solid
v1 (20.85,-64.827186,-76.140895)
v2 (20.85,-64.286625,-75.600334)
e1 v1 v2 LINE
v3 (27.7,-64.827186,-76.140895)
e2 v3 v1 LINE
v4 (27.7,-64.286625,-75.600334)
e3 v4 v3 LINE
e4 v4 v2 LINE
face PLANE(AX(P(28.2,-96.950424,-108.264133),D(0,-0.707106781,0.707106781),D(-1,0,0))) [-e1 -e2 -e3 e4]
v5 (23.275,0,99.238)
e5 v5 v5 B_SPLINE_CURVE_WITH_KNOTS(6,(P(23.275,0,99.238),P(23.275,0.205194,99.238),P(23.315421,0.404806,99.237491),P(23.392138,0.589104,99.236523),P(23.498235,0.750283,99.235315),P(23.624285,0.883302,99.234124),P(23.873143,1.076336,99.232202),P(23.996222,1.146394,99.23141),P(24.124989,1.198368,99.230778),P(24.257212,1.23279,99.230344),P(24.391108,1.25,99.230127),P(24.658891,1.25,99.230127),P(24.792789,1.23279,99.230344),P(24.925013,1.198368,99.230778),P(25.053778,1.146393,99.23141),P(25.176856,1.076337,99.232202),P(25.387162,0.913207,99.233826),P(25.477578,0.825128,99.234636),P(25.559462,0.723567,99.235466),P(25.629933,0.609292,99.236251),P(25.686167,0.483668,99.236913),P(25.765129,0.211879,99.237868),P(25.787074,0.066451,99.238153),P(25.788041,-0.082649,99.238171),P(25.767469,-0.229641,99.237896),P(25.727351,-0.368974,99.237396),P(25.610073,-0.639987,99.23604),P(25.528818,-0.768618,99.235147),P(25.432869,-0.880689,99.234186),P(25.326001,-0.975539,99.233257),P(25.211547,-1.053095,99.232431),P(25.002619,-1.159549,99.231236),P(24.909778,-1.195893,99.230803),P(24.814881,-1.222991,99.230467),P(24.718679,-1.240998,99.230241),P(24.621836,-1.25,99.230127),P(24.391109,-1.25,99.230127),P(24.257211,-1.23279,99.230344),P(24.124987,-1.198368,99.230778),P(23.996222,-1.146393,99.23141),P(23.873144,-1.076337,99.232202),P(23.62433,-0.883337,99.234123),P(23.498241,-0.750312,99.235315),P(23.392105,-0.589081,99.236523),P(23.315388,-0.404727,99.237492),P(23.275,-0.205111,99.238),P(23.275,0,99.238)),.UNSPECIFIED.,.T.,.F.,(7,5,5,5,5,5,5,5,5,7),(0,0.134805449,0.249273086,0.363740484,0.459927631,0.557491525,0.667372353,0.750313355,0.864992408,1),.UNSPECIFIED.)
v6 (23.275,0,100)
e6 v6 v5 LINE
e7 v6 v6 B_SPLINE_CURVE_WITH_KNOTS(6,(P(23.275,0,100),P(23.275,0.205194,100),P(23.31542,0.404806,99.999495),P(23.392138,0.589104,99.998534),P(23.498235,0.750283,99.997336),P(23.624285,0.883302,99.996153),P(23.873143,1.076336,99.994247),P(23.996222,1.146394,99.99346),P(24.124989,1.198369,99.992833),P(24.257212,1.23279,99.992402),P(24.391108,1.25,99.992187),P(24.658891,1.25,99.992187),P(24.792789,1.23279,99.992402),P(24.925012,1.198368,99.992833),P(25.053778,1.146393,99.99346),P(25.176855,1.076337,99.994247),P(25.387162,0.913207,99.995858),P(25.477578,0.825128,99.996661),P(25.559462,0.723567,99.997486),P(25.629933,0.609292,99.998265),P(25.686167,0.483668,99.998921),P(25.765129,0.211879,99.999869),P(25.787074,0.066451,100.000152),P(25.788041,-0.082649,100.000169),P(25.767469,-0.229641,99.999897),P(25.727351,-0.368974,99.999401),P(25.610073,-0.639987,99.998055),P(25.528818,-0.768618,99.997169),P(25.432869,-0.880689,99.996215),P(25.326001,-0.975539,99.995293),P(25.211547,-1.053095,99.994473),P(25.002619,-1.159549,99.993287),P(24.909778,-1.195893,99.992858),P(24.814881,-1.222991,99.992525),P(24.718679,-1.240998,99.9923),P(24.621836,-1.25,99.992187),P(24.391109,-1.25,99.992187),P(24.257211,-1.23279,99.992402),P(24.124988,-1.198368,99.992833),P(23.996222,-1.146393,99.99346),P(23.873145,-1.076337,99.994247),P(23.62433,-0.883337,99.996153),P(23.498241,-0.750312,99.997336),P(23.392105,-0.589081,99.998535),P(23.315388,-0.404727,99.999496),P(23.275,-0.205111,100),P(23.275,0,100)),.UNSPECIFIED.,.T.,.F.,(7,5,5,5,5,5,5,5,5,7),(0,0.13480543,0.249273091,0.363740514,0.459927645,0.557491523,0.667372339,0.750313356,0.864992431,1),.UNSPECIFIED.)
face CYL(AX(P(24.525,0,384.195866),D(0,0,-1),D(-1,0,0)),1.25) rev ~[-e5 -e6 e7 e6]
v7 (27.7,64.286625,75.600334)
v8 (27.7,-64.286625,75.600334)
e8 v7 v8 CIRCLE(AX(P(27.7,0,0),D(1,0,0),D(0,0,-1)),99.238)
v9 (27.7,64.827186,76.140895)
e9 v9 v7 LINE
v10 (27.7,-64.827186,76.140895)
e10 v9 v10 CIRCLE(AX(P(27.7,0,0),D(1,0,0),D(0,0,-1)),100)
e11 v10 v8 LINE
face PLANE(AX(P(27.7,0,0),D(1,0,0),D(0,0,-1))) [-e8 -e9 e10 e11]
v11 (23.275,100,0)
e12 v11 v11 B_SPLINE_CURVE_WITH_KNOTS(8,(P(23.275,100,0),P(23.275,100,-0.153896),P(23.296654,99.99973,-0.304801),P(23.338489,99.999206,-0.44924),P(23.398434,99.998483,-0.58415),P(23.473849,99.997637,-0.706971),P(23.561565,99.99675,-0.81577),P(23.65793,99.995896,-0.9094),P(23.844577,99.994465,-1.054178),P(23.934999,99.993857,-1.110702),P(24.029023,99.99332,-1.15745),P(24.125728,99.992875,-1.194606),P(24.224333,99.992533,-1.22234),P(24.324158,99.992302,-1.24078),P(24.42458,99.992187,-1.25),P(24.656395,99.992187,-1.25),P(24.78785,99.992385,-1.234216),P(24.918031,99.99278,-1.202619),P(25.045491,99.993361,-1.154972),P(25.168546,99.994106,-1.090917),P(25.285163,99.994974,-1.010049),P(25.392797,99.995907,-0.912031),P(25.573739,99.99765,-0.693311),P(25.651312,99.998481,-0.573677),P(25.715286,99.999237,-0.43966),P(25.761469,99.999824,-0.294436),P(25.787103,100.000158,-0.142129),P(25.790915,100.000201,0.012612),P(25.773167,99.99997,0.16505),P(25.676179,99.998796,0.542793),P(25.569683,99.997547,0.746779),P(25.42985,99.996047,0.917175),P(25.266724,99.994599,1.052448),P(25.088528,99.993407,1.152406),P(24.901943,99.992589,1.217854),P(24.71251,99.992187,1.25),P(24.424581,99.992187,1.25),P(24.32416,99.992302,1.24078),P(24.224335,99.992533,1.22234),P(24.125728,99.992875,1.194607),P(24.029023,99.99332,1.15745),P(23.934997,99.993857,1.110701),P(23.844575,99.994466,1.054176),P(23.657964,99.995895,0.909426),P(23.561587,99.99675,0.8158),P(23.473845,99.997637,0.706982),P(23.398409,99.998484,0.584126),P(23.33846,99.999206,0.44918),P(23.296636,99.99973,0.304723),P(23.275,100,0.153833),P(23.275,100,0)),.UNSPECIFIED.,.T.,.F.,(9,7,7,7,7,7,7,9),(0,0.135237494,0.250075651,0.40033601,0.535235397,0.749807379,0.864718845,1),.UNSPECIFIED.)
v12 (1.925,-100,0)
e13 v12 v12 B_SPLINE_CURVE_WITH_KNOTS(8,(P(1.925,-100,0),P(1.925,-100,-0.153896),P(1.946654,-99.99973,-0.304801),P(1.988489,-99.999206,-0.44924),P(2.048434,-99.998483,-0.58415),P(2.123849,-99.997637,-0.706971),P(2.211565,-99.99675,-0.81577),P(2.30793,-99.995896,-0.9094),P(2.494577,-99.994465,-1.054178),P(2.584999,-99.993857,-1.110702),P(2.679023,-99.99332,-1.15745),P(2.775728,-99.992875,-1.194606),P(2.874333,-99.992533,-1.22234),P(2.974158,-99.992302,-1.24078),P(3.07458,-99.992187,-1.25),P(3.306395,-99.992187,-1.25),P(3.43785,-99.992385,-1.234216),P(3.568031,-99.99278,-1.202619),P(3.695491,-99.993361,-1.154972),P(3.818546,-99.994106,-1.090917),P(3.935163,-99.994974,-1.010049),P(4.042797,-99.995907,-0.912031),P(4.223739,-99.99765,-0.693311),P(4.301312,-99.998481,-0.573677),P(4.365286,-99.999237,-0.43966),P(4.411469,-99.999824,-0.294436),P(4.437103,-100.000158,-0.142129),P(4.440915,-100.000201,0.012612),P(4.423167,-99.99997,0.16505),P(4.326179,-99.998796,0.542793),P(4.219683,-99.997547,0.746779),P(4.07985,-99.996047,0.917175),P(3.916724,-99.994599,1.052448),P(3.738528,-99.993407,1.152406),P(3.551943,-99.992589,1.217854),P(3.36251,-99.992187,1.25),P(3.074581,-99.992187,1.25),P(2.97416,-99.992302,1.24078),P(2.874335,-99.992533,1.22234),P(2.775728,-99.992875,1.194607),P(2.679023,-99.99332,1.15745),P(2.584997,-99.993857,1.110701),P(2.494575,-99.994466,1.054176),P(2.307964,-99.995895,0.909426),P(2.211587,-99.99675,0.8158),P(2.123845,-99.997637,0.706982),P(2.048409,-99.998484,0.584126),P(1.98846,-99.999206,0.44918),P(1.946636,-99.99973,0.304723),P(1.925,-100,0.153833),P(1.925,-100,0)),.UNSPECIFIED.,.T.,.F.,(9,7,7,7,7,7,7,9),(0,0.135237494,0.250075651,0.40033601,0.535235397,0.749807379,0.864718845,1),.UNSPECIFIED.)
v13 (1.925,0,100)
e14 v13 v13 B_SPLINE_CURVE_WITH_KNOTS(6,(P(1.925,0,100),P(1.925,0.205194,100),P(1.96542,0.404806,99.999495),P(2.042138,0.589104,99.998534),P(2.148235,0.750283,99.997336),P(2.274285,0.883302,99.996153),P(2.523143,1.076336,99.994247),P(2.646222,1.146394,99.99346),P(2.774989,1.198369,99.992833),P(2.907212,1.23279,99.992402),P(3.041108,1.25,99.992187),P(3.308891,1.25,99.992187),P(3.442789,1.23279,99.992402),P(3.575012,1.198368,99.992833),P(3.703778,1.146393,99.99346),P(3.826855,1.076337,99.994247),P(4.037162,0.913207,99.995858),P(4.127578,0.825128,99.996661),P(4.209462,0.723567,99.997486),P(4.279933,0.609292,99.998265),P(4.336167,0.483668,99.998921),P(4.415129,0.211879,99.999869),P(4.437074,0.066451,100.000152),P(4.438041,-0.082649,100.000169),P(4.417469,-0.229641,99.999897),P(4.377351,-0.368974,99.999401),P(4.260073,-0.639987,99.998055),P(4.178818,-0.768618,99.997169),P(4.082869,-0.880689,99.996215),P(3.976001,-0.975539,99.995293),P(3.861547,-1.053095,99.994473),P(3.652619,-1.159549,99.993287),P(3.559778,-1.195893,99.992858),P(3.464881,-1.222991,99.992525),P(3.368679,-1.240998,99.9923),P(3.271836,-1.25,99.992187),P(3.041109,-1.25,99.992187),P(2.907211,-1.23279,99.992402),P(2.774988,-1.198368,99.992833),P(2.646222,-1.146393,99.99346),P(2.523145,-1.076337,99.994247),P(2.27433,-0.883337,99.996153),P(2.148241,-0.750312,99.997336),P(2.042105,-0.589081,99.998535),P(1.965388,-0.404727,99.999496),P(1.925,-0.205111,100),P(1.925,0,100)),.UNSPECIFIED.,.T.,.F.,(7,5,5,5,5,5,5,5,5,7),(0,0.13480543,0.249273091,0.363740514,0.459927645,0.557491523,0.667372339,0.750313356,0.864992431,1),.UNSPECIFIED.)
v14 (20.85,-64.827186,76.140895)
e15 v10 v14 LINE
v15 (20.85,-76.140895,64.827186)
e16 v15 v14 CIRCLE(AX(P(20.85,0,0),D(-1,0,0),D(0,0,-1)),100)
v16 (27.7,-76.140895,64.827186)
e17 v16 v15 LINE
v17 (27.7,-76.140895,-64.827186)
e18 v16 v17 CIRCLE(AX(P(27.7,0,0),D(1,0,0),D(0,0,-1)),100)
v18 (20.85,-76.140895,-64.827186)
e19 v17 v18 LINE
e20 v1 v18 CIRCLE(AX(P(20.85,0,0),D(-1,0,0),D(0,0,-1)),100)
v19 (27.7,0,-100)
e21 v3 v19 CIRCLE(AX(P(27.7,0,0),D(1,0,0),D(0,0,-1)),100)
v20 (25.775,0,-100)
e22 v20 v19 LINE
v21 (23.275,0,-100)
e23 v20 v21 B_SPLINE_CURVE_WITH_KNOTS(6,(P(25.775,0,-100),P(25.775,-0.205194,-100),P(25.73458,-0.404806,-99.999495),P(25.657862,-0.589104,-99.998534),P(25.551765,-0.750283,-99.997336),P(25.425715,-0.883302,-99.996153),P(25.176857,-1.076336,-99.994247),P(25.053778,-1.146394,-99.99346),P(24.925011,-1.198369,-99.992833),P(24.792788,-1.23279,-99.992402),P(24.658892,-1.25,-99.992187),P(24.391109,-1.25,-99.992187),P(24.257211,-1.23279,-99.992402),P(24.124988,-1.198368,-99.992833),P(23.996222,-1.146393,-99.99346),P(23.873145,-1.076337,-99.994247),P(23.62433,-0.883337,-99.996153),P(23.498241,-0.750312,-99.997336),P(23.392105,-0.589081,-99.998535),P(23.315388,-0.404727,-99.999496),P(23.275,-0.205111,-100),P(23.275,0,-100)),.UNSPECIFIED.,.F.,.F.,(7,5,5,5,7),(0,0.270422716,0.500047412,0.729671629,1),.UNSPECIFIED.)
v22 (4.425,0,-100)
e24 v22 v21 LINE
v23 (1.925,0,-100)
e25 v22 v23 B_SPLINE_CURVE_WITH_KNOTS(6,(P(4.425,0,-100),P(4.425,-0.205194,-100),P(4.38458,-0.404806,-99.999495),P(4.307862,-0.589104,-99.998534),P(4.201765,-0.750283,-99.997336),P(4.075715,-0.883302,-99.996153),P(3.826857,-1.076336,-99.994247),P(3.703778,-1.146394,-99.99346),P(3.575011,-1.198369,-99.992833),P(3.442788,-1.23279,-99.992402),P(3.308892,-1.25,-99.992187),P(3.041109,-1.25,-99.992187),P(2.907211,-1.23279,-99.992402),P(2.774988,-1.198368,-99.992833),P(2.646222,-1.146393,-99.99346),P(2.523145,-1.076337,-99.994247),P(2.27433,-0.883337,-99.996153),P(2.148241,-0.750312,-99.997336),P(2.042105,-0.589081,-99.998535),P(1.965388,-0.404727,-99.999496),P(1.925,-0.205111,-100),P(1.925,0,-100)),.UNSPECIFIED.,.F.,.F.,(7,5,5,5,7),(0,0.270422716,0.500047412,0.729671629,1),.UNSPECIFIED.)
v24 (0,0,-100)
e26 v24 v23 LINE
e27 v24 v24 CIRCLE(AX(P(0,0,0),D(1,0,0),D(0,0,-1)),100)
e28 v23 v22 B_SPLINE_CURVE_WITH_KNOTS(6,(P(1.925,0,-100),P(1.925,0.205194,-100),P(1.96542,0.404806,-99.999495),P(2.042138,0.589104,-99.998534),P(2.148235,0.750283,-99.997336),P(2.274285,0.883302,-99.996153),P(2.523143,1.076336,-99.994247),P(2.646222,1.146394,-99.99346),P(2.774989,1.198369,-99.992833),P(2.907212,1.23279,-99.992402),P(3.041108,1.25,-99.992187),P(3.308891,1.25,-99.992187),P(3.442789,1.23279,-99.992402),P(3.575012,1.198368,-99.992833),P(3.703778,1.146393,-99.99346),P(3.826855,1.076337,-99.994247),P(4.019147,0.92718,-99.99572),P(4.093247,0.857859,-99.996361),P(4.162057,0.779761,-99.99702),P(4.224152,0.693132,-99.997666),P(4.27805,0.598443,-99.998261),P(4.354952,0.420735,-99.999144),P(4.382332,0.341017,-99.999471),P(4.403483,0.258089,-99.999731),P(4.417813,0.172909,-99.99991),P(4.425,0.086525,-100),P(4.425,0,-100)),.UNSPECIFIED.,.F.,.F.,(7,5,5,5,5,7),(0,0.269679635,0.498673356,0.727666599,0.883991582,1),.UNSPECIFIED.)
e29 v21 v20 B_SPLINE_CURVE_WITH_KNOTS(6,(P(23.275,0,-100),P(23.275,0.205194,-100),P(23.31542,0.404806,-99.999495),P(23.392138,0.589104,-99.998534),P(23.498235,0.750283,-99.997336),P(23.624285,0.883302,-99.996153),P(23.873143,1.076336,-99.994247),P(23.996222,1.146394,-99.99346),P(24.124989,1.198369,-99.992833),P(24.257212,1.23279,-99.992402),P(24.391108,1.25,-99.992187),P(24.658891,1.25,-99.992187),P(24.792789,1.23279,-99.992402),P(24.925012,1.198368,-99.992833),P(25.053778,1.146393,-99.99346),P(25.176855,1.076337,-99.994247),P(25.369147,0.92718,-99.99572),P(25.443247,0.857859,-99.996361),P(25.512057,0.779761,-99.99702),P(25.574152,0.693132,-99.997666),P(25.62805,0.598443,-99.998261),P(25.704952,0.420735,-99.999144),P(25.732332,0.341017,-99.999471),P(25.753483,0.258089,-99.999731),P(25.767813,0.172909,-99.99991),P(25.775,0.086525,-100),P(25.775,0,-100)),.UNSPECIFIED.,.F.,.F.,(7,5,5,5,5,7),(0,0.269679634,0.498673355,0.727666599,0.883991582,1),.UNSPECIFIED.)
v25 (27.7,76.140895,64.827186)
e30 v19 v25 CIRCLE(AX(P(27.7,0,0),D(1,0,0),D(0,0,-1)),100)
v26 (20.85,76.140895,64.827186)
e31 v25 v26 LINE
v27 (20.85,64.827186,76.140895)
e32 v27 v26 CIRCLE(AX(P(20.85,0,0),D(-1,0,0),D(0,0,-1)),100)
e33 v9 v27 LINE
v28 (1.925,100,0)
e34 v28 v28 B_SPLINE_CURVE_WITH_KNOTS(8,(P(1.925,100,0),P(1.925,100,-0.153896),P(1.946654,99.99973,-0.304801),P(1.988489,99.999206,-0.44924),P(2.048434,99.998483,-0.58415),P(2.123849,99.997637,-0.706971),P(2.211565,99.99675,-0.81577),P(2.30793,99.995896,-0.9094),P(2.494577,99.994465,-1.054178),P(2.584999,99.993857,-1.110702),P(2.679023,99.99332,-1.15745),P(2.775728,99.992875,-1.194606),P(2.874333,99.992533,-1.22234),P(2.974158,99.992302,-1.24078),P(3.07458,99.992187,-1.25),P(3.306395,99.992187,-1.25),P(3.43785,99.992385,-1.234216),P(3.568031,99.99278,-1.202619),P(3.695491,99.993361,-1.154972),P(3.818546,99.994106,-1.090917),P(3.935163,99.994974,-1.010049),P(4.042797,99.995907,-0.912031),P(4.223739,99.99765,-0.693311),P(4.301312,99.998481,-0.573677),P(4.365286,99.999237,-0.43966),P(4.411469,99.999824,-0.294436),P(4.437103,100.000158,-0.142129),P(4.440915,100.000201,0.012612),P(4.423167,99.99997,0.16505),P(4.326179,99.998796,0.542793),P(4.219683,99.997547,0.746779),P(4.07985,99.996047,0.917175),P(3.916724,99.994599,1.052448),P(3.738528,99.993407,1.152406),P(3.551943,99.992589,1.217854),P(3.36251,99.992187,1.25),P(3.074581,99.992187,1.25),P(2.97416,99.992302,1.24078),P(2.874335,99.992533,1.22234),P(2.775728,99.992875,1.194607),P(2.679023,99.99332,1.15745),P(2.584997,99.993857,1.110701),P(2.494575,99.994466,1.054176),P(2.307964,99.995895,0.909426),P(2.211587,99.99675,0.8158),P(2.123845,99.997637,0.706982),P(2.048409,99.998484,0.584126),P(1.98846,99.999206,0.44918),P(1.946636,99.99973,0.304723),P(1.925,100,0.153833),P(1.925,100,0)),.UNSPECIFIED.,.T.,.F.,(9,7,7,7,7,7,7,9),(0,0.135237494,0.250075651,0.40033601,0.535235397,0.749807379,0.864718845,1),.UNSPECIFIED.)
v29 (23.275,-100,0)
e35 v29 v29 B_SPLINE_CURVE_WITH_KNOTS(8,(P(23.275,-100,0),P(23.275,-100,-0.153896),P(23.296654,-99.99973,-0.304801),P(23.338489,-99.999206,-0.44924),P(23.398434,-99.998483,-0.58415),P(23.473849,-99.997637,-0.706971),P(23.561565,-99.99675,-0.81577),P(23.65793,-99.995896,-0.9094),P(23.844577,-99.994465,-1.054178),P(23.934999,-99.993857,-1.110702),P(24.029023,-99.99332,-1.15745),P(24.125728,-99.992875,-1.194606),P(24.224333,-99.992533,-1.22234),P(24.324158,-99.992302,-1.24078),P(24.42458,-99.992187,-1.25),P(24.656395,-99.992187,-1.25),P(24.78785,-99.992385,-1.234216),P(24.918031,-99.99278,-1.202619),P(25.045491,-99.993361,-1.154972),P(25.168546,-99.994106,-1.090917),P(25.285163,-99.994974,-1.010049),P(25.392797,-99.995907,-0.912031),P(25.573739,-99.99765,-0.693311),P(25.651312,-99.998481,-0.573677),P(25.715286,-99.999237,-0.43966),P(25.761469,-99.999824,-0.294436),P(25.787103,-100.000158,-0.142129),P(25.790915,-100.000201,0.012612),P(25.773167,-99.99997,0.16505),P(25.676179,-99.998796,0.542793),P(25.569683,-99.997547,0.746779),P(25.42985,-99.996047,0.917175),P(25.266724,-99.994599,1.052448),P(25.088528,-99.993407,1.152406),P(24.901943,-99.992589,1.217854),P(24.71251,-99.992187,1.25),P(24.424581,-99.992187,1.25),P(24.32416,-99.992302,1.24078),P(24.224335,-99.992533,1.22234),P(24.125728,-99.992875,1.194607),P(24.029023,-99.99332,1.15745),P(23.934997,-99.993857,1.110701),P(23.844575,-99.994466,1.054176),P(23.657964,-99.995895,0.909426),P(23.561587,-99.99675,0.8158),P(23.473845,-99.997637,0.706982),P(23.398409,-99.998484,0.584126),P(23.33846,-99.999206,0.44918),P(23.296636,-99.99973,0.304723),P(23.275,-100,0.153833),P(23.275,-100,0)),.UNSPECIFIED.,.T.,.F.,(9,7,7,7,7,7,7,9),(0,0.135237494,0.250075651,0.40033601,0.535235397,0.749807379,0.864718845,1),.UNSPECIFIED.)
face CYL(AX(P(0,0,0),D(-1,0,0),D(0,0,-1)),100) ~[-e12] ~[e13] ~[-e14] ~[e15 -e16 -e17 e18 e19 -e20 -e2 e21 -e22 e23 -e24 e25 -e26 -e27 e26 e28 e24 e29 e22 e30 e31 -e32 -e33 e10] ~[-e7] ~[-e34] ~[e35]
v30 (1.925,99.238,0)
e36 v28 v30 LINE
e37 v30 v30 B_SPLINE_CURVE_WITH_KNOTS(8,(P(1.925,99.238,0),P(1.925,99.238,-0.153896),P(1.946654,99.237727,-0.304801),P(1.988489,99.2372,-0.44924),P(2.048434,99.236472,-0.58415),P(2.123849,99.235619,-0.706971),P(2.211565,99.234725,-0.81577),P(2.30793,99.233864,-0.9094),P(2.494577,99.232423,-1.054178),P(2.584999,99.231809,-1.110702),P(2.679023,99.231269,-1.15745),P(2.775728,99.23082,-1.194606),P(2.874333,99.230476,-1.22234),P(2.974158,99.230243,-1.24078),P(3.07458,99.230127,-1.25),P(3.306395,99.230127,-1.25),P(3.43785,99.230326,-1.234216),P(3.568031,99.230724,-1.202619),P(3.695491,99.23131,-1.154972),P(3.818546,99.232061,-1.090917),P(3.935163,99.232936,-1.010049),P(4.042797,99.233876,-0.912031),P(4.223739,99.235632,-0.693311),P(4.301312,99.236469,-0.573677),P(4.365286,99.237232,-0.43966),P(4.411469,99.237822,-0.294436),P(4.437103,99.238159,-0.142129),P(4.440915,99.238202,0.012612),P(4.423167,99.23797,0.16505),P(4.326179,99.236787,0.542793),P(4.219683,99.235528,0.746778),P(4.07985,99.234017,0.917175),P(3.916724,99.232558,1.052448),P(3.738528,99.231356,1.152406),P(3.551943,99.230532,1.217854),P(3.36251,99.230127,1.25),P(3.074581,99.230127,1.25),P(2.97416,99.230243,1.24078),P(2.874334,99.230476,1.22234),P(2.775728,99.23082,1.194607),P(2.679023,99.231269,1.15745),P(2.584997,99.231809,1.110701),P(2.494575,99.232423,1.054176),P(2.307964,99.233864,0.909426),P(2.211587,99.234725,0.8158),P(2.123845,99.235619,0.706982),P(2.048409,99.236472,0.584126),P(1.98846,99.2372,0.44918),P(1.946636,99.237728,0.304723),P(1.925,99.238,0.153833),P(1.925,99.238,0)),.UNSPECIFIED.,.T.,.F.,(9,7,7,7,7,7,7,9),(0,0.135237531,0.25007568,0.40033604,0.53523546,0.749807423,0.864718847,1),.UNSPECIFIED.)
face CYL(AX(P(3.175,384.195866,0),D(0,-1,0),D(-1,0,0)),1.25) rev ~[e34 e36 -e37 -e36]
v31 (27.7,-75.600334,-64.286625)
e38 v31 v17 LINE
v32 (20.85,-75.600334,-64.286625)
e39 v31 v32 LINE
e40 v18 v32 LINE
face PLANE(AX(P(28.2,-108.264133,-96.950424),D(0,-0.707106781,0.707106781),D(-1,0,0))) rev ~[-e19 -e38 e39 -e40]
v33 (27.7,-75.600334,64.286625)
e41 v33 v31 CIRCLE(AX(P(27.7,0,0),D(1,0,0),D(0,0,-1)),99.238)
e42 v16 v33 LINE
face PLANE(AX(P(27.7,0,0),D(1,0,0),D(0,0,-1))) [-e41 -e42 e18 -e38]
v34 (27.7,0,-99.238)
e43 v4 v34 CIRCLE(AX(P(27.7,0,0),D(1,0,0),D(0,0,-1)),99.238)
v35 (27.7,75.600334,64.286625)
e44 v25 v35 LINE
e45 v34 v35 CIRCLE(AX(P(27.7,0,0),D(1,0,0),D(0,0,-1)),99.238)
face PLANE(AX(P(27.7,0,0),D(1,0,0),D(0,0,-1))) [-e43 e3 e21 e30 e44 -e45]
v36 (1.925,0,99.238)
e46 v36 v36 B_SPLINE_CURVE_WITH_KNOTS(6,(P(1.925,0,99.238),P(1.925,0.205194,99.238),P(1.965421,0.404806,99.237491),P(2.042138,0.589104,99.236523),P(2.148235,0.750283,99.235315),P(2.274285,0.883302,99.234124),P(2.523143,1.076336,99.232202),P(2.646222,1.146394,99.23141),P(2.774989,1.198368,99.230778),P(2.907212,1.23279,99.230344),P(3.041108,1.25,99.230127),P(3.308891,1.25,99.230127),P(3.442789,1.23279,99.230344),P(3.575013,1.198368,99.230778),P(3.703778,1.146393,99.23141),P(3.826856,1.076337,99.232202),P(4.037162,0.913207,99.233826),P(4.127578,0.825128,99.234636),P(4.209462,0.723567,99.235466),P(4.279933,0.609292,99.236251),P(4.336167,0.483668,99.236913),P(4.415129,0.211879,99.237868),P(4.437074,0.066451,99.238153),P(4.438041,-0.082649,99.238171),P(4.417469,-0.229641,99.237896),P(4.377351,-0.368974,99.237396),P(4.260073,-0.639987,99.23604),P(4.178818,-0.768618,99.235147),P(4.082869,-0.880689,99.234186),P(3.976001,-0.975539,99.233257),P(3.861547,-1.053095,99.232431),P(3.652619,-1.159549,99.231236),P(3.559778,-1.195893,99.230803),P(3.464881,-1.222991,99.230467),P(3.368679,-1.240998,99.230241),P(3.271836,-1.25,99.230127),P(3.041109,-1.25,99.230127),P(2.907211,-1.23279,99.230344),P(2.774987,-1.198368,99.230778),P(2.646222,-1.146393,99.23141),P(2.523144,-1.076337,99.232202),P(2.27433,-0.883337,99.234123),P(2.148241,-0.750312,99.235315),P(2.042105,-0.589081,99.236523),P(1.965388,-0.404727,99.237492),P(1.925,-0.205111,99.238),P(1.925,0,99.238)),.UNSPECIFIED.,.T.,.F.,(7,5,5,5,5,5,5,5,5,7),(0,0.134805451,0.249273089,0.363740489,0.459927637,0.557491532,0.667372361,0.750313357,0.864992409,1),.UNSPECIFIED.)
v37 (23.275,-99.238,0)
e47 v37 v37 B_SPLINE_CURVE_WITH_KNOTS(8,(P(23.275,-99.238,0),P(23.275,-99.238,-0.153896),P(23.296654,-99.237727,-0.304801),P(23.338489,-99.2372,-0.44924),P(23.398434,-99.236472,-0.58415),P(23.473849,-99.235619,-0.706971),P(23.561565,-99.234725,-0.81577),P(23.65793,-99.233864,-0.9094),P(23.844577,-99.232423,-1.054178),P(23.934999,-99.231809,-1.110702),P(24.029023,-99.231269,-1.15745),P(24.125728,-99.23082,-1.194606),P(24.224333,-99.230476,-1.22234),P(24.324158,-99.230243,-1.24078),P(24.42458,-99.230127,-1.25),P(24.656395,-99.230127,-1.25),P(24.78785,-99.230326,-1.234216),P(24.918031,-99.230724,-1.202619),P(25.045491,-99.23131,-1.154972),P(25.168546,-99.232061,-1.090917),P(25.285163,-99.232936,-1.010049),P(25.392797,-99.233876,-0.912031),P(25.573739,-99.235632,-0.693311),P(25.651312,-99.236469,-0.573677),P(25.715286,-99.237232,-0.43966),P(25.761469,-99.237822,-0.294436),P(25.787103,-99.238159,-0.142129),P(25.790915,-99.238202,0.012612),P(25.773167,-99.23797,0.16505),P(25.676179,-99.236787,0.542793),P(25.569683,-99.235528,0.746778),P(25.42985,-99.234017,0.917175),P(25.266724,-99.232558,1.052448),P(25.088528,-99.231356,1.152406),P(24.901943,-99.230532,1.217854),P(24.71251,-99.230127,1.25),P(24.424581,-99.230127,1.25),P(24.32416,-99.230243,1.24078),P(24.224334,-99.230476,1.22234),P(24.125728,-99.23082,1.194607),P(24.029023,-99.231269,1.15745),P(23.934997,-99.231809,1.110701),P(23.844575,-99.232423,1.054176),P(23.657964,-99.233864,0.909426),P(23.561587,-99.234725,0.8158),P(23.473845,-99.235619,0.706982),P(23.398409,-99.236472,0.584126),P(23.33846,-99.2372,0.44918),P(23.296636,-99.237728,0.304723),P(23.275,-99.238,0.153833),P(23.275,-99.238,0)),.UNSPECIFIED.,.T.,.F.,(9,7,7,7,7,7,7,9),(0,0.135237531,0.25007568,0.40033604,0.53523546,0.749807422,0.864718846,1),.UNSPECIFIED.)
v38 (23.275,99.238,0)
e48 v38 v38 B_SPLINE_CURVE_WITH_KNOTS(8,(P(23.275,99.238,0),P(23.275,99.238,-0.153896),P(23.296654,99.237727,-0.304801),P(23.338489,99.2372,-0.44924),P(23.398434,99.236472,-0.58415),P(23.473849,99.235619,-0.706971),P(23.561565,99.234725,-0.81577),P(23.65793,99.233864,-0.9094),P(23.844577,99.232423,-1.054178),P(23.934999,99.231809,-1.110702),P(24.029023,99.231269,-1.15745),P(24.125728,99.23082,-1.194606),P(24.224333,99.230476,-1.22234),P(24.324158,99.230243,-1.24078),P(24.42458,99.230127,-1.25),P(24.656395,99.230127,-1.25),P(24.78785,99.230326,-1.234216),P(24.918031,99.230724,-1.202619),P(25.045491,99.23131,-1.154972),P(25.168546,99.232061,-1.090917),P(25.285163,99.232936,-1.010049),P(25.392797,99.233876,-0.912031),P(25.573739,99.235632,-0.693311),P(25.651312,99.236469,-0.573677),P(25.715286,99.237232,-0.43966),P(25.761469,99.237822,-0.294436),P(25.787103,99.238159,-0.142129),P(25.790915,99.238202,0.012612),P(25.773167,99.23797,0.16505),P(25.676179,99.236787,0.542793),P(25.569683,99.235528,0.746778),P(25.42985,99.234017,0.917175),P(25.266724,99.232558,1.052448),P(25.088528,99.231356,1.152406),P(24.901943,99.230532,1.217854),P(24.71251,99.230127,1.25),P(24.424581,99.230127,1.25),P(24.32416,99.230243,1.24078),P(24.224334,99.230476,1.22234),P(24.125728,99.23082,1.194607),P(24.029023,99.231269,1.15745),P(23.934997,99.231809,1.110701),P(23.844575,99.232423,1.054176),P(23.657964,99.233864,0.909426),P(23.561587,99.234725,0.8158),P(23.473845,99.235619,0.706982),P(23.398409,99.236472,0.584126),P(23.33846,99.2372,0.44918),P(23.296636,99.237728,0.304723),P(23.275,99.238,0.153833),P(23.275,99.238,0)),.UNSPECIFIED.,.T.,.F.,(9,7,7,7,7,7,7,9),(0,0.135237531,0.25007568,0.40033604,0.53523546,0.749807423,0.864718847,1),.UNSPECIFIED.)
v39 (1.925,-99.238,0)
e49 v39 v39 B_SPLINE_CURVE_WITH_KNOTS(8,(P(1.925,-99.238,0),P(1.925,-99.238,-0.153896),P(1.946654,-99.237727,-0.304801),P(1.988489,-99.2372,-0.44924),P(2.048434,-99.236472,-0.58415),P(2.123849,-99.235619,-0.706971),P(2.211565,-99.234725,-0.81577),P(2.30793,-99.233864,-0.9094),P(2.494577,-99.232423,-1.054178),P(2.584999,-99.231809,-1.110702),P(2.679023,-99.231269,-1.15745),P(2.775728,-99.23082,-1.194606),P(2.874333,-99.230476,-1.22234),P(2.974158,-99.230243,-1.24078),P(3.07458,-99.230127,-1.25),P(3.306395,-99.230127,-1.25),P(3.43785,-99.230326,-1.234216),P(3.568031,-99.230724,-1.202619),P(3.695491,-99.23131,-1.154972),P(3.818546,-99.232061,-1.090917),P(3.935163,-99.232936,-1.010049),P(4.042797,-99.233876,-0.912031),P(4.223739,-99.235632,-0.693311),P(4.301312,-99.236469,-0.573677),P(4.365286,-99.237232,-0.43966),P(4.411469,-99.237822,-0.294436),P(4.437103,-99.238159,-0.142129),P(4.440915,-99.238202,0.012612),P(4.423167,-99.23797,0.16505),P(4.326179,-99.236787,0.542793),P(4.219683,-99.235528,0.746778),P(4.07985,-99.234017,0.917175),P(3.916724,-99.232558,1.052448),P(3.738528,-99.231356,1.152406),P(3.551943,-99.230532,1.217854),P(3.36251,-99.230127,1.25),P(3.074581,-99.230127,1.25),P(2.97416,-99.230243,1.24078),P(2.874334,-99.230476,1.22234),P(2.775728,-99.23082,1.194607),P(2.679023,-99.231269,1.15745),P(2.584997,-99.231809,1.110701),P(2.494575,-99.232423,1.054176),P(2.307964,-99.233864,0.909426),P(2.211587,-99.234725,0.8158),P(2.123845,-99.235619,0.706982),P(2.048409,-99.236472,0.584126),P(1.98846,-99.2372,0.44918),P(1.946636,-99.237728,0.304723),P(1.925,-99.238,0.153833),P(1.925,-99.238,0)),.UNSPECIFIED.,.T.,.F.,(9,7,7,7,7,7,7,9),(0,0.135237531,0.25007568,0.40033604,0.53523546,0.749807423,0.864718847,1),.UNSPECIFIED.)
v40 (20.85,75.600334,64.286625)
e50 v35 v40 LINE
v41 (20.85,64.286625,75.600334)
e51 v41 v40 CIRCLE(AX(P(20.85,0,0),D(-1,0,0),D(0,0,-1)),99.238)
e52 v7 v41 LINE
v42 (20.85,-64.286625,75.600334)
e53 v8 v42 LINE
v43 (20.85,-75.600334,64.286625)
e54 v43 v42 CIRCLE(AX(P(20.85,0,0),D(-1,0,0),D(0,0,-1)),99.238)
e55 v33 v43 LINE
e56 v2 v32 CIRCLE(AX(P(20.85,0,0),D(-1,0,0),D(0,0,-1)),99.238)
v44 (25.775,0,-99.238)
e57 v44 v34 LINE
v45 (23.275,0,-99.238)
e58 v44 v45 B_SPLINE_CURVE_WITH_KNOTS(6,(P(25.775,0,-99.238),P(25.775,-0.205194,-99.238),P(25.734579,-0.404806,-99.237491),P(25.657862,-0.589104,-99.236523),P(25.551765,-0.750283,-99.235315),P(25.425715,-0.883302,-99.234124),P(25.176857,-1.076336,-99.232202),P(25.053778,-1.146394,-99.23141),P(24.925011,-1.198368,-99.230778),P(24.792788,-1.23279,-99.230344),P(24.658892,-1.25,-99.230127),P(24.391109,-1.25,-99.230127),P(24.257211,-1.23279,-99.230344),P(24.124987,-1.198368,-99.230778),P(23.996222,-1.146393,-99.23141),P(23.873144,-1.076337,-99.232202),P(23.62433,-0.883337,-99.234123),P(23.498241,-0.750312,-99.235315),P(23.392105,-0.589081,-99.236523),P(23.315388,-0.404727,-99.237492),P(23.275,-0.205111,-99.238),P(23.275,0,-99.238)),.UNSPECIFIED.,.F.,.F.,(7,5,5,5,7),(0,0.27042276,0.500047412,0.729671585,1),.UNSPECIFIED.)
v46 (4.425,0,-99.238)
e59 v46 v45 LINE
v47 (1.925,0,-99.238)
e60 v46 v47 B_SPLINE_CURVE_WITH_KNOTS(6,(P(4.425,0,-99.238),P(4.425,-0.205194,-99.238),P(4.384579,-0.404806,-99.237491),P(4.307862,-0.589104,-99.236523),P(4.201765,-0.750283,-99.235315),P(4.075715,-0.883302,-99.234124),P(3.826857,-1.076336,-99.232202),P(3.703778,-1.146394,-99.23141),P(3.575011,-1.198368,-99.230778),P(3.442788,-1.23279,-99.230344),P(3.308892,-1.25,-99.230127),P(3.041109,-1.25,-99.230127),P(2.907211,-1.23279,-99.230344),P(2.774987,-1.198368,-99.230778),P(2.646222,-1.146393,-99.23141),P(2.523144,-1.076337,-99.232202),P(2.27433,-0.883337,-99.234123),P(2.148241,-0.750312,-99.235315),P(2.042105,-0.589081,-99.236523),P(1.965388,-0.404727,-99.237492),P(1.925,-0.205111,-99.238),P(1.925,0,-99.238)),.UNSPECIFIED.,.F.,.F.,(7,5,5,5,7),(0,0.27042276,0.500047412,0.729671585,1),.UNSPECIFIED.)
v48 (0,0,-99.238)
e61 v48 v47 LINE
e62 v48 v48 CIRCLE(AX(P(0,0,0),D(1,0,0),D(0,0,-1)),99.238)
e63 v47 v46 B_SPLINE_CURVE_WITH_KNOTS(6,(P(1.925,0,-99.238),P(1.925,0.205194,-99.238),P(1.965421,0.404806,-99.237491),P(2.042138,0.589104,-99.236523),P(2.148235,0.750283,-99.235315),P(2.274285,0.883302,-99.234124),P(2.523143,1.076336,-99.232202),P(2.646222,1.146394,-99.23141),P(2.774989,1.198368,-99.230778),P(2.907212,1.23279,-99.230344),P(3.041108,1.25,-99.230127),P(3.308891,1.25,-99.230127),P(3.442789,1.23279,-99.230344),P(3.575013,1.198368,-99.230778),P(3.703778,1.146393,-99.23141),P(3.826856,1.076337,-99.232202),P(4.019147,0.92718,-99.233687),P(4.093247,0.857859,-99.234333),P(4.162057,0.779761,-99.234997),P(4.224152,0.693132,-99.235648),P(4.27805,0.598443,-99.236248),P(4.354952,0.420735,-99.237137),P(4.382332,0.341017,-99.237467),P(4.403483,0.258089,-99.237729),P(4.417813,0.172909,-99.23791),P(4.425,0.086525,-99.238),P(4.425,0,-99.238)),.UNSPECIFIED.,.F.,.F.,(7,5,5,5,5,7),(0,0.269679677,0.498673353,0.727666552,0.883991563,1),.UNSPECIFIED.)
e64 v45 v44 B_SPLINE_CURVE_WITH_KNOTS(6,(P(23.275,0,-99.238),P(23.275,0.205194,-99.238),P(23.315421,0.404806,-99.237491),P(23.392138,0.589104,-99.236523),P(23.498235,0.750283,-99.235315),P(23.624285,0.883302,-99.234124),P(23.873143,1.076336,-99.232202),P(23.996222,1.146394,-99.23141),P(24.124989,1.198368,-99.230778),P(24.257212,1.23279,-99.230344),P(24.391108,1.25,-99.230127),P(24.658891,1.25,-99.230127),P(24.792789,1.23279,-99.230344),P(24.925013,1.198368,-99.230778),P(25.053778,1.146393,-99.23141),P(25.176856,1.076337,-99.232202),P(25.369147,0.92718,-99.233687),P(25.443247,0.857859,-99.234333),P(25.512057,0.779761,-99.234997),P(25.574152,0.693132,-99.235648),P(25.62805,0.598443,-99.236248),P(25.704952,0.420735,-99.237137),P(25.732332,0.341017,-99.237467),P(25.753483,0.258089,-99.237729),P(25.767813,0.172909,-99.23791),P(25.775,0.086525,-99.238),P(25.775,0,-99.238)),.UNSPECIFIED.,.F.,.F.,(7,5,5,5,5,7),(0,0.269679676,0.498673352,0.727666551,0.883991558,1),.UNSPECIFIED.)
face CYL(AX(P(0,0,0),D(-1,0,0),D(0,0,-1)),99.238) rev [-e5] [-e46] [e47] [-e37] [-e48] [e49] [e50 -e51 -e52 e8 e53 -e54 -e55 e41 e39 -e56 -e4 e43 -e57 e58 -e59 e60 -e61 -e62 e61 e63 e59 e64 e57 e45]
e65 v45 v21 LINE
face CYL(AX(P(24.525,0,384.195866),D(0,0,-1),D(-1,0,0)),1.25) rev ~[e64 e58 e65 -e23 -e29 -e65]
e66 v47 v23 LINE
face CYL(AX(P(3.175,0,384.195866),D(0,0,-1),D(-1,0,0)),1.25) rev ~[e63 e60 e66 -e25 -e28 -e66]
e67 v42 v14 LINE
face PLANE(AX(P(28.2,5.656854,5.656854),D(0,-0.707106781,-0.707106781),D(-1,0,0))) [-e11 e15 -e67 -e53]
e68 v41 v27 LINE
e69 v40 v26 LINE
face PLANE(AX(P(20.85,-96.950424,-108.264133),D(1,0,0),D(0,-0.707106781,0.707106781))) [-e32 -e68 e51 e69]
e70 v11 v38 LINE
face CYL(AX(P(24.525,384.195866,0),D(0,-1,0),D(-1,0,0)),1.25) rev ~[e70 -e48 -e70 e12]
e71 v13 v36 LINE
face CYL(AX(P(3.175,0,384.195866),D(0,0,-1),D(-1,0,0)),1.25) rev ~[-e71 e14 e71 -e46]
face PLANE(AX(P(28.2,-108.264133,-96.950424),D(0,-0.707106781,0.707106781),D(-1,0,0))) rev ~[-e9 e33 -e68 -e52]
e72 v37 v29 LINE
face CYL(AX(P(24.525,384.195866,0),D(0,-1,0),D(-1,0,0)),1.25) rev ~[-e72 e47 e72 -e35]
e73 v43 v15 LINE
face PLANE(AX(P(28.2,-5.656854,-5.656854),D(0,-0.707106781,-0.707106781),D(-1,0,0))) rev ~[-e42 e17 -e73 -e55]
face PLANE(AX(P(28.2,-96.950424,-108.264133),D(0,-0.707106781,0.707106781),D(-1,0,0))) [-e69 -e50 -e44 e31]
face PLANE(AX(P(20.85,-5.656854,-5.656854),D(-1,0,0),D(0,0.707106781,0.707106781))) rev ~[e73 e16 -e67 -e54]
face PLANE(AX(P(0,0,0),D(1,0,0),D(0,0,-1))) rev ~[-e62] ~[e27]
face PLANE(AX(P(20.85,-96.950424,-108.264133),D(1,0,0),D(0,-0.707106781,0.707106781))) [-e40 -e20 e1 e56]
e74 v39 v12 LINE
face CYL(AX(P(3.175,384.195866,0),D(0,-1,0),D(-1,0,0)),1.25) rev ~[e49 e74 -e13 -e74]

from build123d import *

# Parameters (mm, degrees)
SKETCH1_R               = 100
SKETCH1_R_2             = 99.238
BOSS_EXTRUDE1_DEPTH     = 27.7
F_2_5MM_DOWEL_HOLE1_D   = 2.5
F_2_5MM_DOWEL_HOLE2_D   = 2.5
SKETCH6_W               = 7.35
SKETCH6_H               = 16
CUT_EXTRUDE1_DEPTH      = 145.108605038
CUT_EXTRUDE2_DEPTH      = 145.108605038
CUT_EXTRUDE2_DEPTH_BACK = 145.108605038
SKETCH7_W               = 7.35
SKETCH7_H               = 16


with BuildPart() as part:
    # Sketch1 → Boss-Extrude1 (new body)
    with BuildSketch(Plane(origin=(0, 0, 0), x_dir=(0, 0, -1), z_dir=(1, 0, 0))):
        Circle(SKETCH1_R)
        Circle(SKETCH1_R_2, mode=Mode.SUBTRACT)
    extrude(amount=BOSS_EXTRUDE1_DEPTH)

    # Ø2.5mm Dowel Hole1 (through all)
    with Locations(Plane.XY.offset(100)):
        with Locations((24.525, 0), (3.175, 0)):
            Hole(F_2_5MM_DOWEL_HOLE1_D / 2)

    # Ø2.5mm Dowel Hole2 (through all)
    with Locations(Plane(origin=(0, 100, 0), x_dir=(1, 0, 0), z_dir=(0, 1, 0))):
        with Locations((24.525, 0), (3.175, 0)):
            Hole(F_2_5MM_DOWEL_HOLE2_D / 2)

    # Sketch6 → Cut-Extrude1 (cut, through all)
    with BuildSketch(Plane(origin=(0, 0, 0), x_dir=(-1, 0, 0), z_dir=(0, 0.7071067811865475, -0.7071067811865477))):
        with Locations((-24.525, 0)):
            Rectangle(SKETCH6_W, SKETCH6_H)
    extrude(amount=-CUT_EXTRUDE1_DEPTH, mode=Mode.SUBTRACT)

    # Sketch7 → Cut-Extrude2 (cut, two sides: drawn at the far end of the back side and taken through both)
    with BuildSketch(Plane(origin=(0, 0, 0), x_dir=(-1, 0, 0), z_dir=(0, 0.7071067811865476, 0.7071067811865476)).offset(-CUT_EXTRUDE2_DEPTH_BACK)):
        with Locations((-24.525, 0)):
            Rectangle(SKETCH7_W, SKETCH7_H)
    extrude(amount=CUT_EXTRUDE2_DEPTH + CUT_EXTRUDE2_DEPTH_BACK, mode=Mode.SUBTRACT)


solid = part.part
